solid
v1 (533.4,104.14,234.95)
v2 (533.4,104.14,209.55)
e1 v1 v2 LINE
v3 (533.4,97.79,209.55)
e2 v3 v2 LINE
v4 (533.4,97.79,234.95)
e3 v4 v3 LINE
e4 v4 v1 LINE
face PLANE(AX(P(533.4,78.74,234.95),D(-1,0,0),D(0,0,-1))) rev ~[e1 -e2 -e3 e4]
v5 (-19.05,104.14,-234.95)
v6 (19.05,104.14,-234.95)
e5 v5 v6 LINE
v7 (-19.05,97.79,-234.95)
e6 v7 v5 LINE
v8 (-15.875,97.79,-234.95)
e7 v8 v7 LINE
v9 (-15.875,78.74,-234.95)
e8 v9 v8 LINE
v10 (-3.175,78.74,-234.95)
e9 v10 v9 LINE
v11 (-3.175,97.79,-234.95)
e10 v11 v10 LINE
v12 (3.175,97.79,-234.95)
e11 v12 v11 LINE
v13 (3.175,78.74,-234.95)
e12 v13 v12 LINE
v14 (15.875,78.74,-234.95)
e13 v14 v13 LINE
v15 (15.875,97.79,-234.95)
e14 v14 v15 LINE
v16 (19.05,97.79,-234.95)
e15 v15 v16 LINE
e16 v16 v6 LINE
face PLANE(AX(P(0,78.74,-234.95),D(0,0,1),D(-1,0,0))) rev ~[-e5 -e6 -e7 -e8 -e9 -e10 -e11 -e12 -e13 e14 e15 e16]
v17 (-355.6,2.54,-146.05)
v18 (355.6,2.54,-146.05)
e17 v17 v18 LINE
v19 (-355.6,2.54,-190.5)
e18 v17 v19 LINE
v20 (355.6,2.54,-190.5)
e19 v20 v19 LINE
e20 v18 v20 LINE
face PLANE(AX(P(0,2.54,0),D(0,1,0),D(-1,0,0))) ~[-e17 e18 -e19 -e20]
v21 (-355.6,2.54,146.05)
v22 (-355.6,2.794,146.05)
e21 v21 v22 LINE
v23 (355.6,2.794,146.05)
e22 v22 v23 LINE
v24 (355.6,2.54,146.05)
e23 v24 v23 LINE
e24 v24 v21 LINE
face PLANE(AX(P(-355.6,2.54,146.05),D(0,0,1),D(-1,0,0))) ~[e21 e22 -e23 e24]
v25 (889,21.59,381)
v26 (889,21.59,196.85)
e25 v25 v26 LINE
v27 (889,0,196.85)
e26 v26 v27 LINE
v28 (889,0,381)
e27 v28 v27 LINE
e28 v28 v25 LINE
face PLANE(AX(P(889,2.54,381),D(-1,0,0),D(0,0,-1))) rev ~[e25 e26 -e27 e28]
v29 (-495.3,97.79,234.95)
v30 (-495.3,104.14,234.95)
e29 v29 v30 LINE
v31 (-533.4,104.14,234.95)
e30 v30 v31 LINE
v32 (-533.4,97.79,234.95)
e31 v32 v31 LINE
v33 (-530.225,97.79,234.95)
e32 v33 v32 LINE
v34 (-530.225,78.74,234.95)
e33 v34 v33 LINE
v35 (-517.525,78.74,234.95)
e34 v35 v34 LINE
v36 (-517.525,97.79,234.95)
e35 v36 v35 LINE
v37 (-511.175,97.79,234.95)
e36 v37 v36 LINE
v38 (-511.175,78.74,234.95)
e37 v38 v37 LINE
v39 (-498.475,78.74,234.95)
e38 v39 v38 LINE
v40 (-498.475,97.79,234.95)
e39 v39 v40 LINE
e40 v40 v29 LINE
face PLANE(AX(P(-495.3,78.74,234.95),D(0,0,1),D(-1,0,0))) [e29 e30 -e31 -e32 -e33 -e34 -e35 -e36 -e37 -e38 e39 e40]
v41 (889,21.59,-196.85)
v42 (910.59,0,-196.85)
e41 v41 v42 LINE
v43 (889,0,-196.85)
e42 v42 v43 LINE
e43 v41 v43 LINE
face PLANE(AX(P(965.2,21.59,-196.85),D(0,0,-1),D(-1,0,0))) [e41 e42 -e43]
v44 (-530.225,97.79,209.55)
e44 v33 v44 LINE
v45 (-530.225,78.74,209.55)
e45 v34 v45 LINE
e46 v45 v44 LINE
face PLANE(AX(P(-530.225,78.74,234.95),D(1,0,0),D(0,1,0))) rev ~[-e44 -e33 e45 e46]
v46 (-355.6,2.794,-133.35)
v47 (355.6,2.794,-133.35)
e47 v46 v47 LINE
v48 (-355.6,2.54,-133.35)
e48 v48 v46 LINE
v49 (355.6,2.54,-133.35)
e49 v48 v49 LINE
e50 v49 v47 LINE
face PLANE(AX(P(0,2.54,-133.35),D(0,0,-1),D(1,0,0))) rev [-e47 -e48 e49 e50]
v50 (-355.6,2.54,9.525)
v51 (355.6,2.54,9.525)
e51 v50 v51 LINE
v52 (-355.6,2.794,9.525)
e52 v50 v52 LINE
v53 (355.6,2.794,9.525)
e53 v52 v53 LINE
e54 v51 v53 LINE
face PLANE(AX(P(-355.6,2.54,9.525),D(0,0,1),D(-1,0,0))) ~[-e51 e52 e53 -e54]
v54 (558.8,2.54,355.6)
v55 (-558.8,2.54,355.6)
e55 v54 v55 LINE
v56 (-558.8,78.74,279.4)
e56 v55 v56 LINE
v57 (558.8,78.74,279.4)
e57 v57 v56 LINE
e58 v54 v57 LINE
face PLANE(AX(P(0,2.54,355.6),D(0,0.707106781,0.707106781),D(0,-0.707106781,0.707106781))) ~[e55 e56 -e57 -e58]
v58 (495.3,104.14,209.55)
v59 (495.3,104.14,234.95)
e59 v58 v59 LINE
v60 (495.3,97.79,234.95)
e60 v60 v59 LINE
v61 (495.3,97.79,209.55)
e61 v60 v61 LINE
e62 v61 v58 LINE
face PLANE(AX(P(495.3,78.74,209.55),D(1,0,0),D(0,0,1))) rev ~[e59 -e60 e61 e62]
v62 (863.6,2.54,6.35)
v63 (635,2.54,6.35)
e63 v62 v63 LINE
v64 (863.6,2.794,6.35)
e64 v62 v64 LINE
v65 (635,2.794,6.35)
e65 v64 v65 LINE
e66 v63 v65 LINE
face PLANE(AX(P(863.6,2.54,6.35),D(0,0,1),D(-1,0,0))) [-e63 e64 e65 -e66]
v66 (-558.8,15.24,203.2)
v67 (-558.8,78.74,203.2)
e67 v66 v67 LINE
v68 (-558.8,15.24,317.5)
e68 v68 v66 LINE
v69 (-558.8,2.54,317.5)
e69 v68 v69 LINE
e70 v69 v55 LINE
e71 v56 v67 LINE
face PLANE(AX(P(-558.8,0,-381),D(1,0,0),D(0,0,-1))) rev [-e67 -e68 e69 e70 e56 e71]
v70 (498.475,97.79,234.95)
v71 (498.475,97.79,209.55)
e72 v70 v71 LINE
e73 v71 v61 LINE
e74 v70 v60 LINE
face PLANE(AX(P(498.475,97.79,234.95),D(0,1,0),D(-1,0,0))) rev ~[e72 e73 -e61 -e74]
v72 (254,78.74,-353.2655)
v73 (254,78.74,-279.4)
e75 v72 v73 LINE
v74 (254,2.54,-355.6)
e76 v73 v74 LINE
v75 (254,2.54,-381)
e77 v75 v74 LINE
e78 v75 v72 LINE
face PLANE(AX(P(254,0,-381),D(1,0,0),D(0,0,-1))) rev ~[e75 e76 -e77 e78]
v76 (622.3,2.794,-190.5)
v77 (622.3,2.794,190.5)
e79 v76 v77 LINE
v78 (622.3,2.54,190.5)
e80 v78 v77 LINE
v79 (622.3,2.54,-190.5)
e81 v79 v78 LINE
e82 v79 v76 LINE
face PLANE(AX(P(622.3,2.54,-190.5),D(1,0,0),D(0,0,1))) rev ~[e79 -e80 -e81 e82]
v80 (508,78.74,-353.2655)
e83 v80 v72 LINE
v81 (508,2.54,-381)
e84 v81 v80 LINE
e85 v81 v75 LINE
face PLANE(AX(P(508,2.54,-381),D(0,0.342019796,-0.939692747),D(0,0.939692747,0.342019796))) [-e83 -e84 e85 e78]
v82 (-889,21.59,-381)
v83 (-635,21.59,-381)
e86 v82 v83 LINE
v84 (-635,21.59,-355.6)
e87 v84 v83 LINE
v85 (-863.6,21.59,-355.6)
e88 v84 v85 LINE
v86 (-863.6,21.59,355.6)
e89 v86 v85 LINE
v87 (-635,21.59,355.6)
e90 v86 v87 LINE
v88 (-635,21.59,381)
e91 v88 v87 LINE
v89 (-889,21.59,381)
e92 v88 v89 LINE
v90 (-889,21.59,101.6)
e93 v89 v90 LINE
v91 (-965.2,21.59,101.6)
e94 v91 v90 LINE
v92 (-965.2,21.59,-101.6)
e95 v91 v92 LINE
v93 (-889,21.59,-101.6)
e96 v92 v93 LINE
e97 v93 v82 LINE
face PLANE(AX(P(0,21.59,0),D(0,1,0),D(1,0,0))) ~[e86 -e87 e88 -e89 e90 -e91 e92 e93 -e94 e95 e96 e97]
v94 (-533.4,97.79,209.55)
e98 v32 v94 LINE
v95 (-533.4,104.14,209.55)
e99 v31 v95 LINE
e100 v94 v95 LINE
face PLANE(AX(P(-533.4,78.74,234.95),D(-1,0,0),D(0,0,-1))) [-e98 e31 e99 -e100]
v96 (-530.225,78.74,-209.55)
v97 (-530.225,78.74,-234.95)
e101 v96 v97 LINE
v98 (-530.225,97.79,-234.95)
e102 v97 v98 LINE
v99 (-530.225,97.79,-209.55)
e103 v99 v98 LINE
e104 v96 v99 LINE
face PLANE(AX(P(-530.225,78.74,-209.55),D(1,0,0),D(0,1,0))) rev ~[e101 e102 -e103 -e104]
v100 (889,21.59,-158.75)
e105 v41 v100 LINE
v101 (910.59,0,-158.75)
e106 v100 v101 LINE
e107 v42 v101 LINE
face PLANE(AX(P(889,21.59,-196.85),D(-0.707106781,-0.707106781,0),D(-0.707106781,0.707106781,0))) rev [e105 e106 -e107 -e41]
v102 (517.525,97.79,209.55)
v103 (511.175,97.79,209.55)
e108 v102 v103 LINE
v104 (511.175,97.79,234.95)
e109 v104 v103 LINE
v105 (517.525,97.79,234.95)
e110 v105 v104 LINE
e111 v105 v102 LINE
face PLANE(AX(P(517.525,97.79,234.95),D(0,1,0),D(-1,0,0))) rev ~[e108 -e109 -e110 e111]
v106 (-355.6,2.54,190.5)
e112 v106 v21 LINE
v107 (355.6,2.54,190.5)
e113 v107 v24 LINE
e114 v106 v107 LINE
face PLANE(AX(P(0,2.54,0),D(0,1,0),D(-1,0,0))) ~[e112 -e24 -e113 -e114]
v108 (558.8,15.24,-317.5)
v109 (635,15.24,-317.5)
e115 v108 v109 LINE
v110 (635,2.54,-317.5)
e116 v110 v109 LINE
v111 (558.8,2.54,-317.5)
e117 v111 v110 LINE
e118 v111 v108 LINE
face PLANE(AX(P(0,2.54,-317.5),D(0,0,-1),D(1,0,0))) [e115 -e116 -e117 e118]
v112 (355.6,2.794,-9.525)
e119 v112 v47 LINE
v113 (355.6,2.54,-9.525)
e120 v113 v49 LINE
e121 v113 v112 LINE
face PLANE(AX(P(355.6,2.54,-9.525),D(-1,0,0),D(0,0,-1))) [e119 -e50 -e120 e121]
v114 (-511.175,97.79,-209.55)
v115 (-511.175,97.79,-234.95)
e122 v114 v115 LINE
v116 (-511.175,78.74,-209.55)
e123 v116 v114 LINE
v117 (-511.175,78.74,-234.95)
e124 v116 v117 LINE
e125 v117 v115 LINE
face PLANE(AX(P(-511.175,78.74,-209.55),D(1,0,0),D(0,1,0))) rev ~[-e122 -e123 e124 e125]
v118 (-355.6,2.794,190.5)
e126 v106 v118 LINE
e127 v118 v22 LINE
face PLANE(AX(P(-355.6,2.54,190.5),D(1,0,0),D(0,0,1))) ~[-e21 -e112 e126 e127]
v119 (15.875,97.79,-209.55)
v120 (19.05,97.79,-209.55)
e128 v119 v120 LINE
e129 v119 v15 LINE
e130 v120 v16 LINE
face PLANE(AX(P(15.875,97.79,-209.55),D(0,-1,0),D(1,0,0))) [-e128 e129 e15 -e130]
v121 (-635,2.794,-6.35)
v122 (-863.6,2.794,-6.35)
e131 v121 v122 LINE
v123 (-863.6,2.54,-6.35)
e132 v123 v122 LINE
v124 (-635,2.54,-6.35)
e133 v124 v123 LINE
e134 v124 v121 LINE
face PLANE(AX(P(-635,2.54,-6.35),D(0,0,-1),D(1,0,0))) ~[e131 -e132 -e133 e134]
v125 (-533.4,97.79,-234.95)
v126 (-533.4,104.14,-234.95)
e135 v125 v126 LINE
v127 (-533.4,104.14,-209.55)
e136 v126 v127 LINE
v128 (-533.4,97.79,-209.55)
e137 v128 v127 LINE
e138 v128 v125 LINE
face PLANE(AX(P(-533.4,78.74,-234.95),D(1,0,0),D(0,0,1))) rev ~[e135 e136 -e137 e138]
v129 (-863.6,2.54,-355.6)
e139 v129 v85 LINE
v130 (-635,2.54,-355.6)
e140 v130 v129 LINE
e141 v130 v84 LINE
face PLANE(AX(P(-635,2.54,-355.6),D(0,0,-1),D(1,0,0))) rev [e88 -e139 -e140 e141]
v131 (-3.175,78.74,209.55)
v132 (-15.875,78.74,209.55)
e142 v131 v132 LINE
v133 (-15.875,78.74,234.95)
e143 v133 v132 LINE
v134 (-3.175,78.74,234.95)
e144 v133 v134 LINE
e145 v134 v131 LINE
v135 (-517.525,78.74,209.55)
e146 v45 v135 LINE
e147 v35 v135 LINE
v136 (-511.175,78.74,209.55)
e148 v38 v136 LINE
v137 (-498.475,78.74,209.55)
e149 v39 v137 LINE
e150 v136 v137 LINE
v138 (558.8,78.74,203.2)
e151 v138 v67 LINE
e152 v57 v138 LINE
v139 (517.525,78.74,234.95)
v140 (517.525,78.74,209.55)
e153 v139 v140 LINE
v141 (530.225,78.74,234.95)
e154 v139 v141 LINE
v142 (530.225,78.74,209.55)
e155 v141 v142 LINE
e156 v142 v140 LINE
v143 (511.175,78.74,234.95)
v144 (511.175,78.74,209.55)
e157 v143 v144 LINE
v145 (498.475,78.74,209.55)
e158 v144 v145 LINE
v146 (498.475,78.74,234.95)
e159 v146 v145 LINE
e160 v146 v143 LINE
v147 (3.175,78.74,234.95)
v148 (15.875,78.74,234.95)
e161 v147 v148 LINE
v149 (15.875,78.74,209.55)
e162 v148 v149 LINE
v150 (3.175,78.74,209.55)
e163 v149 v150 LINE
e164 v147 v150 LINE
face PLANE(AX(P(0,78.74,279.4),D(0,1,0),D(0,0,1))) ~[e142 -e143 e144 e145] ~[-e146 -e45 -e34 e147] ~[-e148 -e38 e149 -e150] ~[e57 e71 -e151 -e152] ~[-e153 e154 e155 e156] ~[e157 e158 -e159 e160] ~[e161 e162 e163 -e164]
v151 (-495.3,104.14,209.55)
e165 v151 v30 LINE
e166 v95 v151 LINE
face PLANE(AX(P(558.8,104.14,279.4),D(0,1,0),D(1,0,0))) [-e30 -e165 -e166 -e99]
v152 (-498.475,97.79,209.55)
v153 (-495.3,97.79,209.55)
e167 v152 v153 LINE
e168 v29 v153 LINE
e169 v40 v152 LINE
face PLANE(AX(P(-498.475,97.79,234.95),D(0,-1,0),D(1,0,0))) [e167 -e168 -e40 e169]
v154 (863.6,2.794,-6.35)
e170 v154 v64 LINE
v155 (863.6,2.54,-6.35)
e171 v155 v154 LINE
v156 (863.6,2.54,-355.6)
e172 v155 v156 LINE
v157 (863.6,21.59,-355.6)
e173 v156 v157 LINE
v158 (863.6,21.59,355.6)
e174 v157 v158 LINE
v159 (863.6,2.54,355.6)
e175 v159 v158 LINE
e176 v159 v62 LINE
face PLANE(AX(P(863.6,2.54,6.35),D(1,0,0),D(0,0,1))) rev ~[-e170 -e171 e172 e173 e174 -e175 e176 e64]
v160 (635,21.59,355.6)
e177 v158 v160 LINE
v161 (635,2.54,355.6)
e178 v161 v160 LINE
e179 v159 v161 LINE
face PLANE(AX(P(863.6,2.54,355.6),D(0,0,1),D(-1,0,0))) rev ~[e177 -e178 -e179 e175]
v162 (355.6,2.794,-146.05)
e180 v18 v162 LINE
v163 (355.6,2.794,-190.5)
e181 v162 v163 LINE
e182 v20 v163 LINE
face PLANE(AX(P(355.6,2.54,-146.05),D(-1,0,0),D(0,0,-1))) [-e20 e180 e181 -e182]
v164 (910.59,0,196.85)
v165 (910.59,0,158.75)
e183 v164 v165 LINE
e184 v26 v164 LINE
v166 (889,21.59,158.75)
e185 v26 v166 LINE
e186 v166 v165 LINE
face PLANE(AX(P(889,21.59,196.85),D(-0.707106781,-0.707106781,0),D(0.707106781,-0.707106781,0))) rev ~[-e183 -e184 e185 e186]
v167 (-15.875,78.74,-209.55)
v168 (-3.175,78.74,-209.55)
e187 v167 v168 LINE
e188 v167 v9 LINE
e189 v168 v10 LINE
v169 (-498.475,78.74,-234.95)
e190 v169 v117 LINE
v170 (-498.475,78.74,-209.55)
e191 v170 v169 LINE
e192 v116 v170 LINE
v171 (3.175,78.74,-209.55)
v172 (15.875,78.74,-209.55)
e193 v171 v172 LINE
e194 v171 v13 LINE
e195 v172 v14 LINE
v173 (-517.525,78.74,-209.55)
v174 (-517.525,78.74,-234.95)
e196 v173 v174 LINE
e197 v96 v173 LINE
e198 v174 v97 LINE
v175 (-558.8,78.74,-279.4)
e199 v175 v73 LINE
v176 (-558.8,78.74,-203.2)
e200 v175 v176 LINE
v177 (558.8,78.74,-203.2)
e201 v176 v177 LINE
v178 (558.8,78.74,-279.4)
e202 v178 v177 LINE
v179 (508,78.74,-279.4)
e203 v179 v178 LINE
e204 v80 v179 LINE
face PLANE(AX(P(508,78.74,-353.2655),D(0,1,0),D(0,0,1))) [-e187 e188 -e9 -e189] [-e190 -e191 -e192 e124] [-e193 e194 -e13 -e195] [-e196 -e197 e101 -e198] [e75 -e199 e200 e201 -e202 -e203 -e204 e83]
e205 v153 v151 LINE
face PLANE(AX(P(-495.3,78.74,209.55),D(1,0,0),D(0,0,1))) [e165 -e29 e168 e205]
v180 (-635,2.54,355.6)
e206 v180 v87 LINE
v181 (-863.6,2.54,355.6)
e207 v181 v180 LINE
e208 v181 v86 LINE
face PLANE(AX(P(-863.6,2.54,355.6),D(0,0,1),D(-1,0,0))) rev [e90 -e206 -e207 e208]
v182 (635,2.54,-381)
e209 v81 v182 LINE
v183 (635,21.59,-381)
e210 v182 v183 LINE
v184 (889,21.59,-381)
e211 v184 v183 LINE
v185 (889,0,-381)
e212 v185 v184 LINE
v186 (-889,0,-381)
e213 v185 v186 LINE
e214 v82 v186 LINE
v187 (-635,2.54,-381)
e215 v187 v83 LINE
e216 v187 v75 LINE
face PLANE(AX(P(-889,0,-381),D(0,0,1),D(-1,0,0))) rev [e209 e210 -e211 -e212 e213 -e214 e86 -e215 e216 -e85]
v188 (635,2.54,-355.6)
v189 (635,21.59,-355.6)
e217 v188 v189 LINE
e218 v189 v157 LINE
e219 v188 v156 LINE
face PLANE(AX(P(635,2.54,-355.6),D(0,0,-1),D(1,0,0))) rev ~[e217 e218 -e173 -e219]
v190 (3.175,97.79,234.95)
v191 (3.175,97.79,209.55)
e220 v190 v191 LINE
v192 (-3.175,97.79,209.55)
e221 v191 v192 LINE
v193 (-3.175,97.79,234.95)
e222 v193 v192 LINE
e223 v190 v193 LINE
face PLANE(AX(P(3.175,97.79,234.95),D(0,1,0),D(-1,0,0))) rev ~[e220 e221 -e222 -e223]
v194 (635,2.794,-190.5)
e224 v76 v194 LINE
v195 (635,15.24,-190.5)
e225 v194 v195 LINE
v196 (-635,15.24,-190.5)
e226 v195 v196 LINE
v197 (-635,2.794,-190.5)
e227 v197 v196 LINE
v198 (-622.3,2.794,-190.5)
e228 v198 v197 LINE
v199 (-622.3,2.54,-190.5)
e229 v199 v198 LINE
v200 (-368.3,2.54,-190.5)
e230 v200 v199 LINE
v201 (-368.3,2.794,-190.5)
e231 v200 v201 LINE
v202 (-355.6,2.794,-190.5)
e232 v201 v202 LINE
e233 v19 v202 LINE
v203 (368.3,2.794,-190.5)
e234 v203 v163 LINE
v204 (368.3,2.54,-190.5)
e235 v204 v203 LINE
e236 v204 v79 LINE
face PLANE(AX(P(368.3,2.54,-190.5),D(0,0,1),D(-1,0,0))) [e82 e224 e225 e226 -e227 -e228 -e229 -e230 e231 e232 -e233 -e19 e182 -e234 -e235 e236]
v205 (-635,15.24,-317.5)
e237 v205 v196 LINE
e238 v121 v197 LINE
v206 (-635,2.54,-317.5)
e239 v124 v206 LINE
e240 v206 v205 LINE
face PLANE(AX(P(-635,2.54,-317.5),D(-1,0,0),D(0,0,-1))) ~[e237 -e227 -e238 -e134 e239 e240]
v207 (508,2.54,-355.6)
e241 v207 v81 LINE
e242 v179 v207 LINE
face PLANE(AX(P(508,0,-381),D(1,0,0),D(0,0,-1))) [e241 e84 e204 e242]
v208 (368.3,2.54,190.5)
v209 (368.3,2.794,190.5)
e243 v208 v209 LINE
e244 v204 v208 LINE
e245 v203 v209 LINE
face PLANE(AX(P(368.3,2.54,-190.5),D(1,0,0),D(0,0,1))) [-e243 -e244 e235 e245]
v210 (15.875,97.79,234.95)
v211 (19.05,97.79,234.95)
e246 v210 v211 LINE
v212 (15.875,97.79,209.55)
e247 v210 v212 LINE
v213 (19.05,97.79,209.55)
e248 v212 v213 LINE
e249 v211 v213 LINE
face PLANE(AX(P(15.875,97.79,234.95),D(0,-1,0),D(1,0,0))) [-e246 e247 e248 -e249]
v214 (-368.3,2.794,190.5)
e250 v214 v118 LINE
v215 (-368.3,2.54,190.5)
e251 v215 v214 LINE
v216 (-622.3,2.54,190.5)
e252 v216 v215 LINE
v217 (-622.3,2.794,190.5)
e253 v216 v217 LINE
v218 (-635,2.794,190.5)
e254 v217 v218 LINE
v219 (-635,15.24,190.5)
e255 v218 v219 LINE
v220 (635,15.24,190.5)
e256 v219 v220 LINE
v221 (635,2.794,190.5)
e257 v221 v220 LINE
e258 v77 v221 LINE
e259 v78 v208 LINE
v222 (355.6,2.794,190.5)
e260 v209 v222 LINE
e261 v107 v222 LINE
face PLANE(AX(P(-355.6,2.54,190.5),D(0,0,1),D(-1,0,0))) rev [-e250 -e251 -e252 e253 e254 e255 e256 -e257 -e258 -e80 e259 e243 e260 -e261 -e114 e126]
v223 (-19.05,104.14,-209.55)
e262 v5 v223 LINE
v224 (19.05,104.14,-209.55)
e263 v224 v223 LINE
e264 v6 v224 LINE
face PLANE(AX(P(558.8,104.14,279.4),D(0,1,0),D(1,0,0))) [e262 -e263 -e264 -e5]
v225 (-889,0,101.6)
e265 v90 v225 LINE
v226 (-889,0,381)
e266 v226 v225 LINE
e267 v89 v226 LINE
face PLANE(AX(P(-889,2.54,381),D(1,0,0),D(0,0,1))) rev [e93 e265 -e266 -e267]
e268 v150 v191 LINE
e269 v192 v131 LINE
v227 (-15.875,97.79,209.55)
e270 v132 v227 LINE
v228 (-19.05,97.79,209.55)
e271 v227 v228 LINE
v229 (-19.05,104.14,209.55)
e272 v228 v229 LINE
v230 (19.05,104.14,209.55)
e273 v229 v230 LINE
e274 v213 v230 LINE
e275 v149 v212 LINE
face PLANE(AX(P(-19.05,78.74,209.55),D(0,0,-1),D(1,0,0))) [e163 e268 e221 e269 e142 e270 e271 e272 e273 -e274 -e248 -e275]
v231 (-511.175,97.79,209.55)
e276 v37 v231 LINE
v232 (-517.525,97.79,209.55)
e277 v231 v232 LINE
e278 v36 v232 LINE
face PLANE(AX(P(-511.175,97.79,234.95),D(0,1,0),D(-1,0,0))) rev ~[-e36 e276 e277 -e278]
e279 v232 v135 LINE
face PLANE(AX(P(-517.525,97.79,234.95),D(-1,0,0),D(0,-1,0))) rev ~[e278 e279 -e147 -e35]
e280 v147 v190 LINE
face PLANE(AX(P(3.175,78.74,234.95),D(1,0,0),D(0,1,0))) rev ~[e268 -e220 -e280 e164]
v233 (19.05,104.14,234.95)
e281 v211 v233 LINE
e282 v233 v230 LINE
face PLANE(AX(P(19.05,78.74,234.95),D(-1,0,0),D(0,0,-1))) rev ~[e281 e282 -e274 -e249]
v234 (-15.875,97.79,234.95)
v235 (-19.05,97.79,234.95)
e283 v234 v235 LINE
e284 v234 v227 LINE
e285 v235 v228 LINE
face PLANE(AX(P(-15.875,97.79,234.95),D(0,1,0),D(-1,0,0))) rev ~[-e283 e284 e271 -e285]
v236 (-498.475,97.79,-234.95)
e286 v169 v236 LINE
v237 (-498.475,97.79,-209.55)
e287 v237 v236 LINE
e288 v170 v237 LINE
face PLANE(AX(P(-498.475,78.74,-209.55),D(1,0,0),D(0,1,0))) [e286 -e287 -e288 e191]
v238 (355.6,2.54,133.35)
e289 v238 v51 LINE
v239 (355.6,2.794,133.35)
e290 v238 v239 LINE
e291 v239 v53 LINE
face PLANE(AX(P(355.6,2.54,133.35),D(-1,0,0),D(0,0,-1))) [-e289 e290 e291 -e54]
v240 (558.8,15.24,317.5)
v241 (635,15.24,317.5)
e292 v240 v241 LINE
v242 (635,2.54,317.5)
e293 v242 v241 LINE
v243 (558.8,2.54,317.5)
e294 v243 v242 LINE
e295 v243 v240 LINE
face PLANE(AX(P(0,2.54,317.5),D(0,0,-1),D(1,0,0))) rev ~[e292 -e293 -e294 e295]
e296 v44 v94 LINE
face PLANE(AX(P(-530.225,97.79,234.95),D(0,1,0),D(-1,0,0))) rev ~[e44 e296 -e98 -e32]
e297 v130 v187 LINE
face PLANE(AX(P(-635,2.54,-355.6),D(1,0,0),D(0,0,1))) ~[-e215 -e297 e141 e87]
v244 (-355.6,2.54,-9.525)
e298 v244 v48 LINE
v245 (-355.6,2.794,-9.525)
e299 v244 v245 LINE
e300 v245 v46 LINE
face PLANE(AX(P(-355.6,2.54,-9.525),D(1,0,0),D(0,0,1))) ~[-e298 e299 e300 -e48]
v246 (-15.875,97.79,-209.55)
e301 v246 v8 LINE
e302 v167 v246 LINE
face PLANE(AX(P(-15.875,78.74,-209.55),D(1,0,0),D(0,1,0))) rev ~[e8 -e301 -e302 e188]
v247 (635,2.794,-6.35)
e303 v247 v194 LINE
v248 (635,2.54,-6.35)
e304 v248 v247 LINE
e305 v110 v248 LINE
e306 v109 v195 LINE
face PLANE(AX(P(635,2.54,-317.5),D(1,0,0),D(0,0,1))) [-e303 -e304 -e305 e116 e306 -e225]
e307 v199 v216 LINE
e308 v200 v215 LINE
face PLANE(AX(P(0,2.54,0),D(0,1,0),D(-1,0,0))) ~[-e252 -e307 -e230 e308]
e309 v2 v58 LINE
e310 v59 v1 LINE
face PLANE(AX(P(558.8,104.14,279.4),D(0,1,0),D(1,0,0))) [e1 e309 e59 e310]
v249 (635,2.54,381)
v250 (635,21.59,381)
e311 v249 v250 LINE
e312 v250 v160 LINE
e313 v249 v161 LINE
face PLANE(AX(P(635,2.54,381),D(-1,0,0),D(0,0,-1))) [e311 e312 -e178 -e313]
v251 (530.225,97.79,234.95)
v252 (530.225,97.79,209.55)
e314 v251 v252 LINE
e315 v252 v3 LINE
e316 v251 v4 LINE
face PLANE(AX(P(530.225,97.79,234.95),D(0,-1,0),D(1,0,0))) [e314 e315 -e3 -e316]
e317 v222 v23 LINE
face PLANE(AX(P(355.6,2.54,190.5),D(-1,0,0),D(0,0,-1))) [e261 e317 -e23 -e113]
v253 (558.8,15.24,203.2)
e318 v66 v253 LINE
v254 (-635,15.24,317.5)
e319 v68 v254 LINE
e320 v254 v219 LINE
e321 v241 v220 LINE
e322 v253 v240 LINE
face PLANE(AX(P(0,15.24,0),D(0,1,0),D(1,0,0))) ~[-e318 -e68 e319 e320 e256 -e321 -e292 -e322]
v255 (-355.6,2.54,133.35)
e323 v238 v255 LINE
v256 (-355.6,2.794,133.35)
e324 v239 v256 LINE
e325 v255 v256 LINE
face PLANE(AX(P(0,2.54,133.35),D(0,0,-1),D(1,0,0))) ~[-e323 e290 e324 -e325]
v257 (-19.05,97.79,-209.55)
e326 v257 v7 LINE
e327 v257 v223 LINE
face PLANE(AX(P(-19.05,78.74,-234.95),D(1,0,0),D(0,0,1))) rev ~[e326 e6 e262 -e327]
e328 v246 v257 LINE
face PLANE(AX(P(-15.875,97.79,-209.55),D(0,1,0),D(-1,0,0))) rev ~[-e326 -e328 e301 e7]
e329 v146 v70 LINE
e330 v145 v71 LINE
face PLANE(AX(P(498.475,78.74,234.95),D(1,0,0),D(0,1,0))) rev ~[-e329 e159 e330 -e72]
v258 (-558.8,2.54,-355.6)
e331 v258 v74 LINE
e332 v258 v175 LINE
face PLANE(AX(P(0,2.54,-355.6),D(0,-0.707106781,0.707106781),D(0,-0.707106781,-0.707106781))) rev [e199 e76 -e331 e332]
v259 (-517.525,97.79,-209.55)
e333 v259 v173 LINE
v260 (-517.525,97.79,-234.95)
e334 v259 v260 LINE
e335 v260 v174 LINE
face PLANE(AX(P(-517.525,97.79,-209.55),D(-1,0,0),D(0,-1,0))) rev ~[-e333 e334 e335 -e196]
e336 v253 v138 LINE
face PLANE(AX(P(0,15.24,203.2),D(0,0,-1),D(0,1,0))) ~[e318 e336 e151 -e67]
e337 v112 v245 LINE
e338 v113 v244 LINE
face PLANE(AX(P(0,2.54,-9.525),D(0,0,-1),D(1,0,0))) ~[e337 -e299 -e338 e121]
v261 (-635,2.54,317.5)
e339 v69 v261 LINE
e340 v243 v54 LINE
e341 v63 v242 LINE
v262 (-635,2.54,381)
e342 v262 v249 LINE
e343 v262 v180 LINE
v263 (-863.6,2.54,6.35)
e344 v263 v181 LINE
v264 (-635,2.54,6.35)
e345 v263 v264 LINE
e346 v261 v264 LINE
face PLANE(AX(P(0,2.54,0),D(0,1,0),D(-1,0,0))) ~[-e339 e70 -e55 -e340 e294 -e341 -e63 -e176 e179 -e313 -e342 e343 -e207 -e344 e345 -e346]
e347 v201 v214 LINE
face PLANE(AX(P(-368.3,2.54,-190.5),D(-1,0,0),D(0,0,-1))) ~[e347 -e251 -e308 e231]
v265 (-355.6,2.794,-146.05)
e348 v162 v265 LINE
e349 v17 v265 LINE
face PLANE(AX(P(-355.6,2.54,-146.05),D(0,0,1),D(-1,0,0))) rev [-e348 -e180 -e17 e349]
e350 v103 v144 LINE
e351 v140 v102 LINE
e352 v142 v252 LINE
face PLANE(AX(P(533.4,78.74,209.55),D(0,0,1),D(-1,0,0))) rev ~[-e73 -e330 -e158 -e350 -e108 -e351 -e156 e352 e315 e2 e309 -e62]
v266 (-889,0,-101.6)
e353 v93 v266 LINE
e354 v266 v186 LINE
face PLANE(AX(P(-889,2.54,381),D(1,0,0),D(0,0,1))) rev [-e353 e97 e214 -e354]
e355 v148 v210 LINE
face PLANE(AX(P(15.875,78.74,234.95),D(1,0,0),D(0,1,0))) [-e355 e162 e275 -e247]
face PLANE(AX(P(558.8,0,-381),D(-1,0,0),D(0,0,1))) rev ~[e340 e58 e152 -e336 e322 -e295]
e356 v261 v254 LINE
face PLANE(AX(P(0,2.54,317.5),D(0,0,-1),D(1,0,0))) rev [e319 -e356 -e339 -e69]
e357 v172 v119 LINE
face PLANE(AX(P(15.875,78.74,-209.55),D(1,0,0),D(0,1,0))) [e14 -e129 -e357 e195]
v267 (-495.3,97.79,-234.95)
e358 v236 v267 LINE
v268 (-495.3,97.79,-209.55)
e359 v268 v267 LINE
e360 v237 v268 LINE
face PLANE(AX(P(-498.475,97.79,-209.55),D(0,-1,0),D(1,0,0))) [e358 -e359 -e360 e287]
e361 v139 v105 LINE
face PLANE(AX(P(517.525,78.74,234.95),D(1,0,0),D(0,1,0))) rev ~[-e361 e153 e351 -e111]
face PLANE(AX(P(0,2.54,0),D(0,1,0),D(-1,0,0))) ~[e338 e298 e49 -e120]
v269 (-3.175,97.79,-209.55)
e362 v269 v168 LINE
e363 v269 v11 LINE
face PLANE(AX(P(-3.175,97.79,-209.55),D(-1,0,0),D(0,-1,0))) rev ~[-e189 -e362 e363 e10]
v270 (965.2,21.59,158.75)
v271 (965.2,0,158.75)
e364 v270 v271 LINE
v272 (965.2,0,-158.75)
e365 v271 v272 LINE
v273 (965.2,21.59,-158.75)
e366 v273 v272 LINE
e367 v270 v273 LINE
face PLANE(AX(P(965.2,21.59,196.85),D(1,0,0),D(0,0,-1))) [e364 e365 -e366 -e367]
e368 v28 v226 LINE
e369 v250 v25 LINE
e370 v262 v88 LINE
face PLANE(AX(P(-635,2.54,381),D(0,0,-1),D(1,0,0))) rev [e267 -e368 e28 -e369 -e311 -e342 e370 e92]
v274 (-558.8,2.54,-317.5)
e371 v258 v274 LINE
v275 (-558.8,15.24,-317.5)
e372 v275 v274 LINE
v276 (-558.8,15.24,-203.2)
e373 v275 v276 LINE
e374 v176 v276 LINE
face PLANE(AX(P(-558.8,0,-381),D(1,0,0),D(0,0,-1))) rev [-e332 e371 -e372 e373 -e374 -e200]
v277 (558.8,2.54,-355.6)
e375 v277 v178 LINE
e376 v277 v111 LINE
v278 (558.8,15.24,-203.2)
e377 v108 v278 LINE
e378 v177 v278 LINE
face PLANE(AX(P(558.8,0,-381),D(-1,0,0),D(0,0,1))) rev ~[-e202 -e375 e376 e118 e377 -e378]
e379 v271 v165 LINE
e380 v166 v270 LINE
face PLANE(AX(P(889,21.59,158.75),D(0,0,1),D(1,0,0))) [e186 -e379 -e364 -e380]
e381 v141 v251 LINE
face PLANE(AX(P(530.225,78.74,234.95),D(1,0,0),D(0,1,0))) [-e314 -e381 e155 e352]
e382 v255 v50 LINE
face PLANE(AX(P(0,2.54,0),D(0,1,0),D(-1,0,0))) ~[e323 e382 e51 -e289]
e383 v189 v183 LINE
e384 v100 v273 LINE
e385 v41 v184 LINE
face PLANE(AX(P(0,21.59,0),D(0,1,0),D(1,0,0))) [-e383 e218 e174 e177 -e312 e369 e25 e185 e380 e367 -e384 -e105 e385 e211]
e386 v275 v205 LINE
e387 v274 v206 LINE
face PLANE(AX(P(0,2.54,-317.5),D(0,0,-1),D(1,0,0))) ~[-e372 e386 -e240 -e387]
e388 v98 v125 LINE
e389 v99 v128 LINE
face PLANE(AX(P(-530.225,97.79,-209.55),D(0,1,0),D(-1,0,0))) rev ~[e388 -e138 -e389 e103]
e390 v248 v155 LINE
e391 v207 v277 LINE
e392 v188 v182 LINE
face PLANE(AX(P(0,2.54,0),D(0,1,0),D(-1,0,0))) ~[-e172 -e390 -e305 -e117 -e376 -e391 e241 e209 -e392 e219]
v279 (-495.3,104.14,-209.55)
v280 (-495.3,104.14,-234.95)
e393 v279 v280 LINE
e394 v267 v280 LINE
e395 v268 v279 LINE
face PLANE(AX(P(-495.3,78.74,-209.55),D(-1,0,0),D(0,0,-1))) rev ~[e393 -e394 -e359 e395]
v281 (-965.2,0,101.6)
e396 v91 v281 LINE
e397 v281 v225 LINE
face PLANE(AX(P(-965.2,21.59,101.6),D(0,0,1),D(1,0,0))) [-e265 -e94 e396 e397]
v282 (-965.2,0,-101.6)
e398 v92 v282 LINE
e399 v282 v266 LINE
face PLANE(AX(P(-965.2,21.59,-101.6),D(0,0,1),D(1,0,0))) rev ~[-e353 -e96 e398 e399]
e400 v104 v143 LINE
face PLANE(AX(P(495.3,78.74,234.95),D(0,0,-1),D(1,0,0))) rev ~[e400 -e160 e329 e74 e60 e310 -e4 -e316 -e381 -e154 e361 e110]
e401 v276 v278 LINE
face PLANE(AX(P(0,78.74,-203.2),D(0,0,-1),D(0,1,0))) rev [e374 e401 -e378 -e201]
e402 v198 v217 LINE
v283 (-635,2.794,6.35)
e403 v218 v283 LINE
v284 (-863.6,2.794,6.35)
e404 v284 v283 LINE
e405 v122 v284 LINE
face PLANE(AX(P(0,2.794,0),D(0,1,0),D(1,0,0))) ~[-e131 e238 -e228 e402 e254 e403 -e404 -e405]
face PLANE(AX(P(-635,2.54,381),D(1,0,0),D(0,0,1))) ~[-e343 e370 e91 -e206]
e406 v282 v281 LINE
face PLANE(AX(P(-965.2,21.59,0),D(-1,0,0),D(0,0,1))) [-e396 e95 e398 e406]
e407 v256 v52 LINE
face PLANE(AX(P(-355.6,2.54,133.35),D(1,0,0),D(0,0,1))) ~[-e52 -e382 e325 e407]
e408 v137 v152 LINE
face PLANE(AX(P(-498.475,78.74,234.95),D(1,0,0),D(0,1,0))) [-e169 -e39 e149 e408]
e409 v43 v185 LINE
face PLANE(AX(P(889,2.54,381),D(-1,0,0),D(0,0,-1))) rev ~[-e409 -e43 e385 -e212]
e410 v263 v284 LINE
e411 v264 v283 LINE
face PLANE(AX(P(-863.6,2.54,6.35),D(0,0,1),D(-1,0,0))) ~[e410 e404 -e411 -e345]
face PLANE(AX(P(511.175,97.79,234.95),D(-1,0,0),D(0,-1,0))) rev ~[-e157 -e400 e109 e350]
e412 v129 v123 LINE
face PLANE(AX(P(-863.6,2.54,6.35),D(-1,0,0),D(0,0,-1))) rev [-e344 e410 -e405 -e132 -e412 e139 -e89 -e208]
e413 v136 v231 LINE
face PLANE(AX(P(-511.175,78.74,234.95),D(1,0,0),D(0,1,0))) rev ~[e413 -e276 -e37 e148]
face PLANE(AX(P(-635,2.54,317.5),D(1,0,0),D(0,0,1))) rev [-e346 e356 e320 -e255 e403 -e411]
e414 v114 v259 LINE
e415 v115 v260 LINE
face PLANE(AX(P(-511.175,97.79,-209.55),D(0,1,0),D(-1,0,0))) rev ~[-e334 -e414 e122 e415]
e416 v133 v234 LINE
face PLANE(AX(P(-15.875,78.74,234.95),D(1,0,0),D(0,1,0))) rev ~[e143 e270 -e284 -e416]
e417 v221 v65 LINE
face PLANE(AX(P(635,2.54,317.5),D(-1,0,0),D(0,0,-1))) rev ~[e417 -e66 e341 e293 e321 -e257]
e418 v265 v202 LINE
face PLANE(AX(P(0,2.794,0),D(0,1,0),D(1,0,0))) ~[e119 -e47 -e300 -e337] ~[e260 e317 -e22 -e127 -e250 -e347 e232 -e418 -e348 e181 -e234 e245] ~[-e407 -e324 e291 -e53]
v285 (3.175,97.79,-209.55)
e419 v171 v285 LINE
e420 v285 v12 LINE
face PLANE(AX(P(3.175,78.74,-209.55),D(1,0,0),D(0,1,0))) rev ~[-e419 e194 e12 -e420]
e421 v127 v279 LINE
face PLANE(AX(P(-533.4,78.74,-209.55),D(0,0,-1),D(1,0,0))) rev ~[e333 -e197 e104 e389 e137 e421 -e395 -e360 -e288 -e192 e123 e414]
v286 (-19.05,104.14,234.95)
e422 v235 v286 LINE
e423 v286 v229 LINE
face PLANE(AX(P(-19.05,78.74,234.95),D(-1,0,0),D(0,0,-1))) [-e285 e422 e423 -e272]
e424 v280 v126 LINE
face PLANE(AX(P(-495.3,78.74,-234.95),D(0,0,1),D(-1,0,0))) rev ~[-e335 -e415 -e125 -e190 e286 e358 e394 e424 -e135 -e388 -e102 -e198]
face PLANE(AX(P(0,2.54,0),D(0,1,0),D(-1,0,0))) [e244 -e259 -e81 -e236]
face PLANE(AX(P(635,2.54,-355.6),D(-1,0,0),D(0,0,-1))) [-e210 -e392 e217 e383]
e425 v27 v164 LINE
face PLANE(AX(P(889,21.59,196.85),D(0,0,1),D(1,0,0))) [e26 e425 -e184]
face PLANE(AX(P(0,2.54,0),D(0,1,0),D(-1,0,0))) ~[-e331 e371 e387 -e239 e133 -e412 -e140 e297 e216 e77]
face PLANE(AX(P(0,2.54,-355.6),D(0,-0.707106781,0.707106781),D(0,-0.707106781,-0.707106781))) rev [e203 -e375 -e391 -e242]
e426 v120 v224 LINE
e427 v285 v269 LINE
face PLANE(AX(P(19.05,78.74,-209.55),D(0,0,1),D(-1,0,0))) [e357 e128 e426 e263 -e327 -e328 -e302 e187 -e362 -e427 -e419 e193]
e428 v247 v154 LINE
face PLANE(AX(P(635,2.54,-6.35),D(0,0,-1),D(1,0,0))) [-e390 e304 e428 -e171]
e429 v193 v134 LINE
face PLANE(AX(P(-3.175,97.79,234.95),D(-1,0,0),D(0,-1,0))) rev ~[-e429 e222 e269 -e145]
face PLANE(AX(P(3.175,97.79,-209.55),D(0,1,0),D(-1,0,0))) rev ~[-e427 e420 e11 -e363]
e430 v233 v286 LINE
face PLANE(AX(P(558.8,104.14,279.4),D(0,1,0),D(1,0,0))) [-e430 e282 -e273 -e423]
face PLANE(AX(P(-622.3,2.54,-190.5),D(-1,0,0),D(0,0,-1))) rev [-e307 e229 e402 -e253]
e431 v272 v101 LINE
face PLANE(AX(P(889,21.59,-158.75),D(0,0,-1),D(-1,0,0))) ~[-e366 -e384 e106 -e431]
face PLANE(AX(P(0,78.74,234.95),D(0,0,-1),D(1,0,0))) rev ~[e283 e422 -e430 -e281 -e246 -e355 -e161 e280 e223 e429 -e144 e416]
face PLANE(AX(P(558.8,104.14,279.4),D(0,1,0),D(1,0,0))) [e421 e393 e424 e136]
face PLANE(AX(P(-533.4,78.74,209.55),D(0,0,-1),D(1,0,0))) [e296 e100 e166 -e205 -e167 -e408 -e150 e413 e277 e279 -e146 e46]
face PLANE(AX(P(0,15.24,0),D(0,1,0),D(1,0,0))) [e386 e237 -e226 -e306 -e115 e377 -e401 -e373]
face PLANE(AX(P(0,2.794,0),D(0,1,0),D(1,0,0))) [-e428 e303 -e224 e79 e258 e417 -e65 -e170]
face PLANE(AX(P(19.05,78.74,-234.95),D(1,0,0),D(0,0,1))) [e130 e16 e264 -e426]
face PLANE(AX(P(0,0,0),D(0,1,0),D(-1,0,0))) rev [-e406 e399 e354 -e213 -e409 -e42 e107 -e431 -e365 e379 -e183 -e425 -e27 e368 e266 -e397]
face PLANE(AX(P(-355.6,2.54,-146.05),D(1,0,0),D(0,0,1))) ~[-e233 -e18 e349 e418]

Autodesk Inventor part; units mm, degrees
ref_plane "YZ Plane" through (0, 0, 0) normal (1, 0, 0) x (0, 1, 0)
sketch "Sketch1" plane through (0, 0, 0) normal (0, 1, 0) x (-1, 0, 0)
  line L0 (0, 381) -> (-889, 381)
  line L1 (-889, 381) -> (-889, -381)
  line L2 (-889, -381) -> (0, -381)
  line L3 (0, 381) -> (0, -381)
  point P0 (0, 0)
  dimension "d1" = 762
  dimension "d35" = 889
extrude "Extrusion1" add sketch "Sketch1" along normal blind 2.54
sketch "Sketch2" plane through (0, 2.54, 0) normal (0, 1, 0) x (1, 0, 0)
  line L0 (0, -381) -> (889, -381) projected
  line L1 (889, -381) -> (889, 381) projected
  line L2 (889, 381) -> (0, 381) projected
  line L3 (863.6, -355.6) -> (635, -355.6)
  line L4 (635, 355.6) -> (863.6, 355.6)
  line L5 (863.6, 355.6) -> (863.6, -355.6)
  line L6 (635, -381) -> (635, -355.6)
  line L7 (635, 355.6) -> (635, 381)
  line L8 (0, 381) -> (0, -381) projected
  line L9 (635, -355.6) -> (635, 355.6) construction
  line L10 (622.3, 190.5) -> (622.3, -190.5)
  line L11 (863.6, 6.35) -> (863.6, -6.35)
  line L12 (863.6, -6.35) -> (635, -6.35)
  line L13 (635, -190.5) -> (635, -6.35)
  line L14 (635, 6.35) -> (635, 190.5)
  line L15 (635, 6.35) -> (863.6, 6.35)
  line L16 (0, -190.5) -> (0, -317.5)
  line L17 (0, -317.5) -> (635, -317.5)
  line L18 (635, -317.5) -> (635, -190.5)
  line L19 (622.3, -190.5) -> (0, -190.5)
  line L20 (0, 0) -> (889, 0) construction
  line L21 (0, 190.5) -> (0, 317.5)
  line L22 (0, 317.5) -> (635, 317.5)
  line L23 (635, 317.5) -> (635, 190.5)
  line L24 (622.3, 190.5) -> (0, 190.5)
  line L25 (368.3, 190.5) -> (368.3, -190.5)
  line L26 (622.3, -190.5) -> (635, -190.5)
  line L27 (622.3, 190.5) -> (635, 190.5)
  line L28 (0, 0) -> (1199.5673, 0) construction
  line L29 (355.6, -9.525) -> (0, -9.525)
  line L30 (0, -9.525) -> (0, 9.525)
  line L31 (0, 9.525) -> (355.6, 9.525)
  line L32 (0, 133.35) -> (355.6, 133.35)
  line L33 (0, 146.05) -> (0, 133.35)
  line L34 (355.6, 146.05) -> (0, 146.05)
  line L35 (355.6, 9.525) -> (355.6, 133.35)
  line L36 (355.6, 146.05) -> (355.6, 190.5)
  line L37 (0, -133.35) -> (355.6, -133.35)
  line L38 (0, -146.05) -> (0, -133.35)
  line L39 (355.6, -146.05) -> (0, -146.05)
  line L40 (355.6, -190.5) -> (355.6, -146.05)
  line L41 (355.6, -133.35) -> (355.6, -9.525)
  line L42 (635, -381) -> (889, -381)
  line L43 (889, -381) -> (889, 381)
  line L44 (889, 381) -> (635, 381)
  line L45 (889, 381) -> (0, 381) projected
  point P0 (745.8337, 0)
  point P1 (599.7837, 0)
  point P2 (345.7837, 88.9)
  dimension "d4" = 25.4
  dimension "d5" = 254
  dimension "d8" = 12.7
  dimension "d11" = 127
  dimension "d16" = 19.05
  dimension "d19" = 63.5
  dimension "d21" = 44.45
  dimension "d22" = 12.7
  dimension "d23" = 374.65
  dimension "d36" = 25.4
  dimension "d37" = 0
  dimension "d38" = 0
  dimension "d39" = 0
  dimension "d40" = 0
  dimension "d41" = 254
  dimension "d42" = 12.7
  dimension "d43" = 12.7
  dimension "d44" = 0
  dimension "d45" = 12.7
  dimension "d46" = 0
  dimension "d47" = 12.7
extrude "Extrusion2" add sketch "Sketch2" along normal blind 12.7 contours L8 L19 L26 L18 L17 | L24 L8 L22 L23 L27
extrude "Extrusion3" add sketch "Sketch2" along normal blind 19.05 contours L6 L3 L5 L4 L7 L2 L1 L0
extrude "Extrusion4" add sketch "Sketch2" along normal blind 0.254 contours L8 L37 L41 L29 L31 L35 L32 L34 L36 L24 L25 L19 L40 L39 | L26 L10 L27 L14 L15 L5 L12 L13
sketch "Sketch3" plane through (0, 0, -381) normal (-1, 0, 0) x (0, 0, 1)
  line L0 (762, 0) -> (0, 0) projected
  line L1 (762, 0) -> (762, 2.54) projected
  line L2 (698.5, 2.54) -> (762, 2.54) projected
  line L3 (698.5, 2.54) -> (698.5, 15.24) projected
  line L4 (571.5, 15.24) -> (698.5, 15.24) projected
  line L5 (571.5, 2.54) -> (571.5, 15.24) projected
  line L6 (527.05, 2.54) -> (571.5, 2.54) projected
  line L7 (527.05, 2.54) -> (527.05, 2.794) projected
  line L8 (514.35, 2.794) -> (527.05, 2.794) projected
  line L9 (514.35, 2.54) -> (514.35, 2.794) projected
  line L10 (390.525, 2.54) -> (514.35, 2.54) projected
  line L11 (390.525, 2.54) -> (390.525, 2.794) projected
  line L12 (371.475, 2.794) -> (390.525, 2.794) projected
  line L13 (371.475, 2.54) -> (371.475, 2.794) projected
  line L14 (247.65, 2.54) -> (371.475, 2.54) projected
  line L15 (247.65, 2.54) -> (247.65, 2.794) projected
  line L16 (234.95, 2.794) -> (247.65, 2.794) projected
  line L17 (234.95, 2.54) -> (234.95, 2.794) projected
  line L18 (190.5, 2.54) -> (234.95, 2.54) projected
  line L19 (190.5, 2.54) -> (190.5, 15.24) projected
  line L20 (63.5, 15.24) -> (190.5, 15.24) projected
  line L21 (63.5, 2.54) -> (63.5, 15.24) projected
  line L22 (0, 2.54) -> (63.5, 2.54) projected
  line L23 (0, 0) -> (0, 2.54) projected
  line L24 (736.6, 2.54) -> (584.2, 2.54)
  line L25 (387.35, 2.54) -> (698.5, 2.54) projected
  line L26 (736.6, 2.54) -> (889, 2.54) construction
  line L27 (736.6, 2.54) -> (660.4, 78.74)
  line L28 (736.6, 2.54) -> (844.3631, 2.54) construction
  line L29 (660.4, 78.74) -> (584.2, 78.74)
  line L30 (762, 0) -> (0, 0) projected
  line L31 (584.2, 78.74) -> (584.2, 2.54)
  line L32 (381, 2.54) -> (381, -13.3549) construction
  line L33 (25.4, 2.54) -> (177.8, 2.54)
  line L34 (374.65, 2.54) -> (63.5, 2.54)
  line L35 (25.4, 2.54) -> (101.6, 78.74)
  line L36 (101.6, 78.74) -> (177.8, 78.74)
  line L37 (177.8, 78.74) -> (177.8, 2.54)
  point P0 (381, 0)
  dimension "d30" = 152.4
  dimension "d31" = 180
  dimension "d32" = 135
extrude "Extrusion5" add sketch "Sketch3" against normal blind 558.8 contours L2 L3 L4 L31 L29 L27 | L35 L36 L37 L20 L21 L22 | L24 L31 L4 L3 | L21 L20 L37 L33
mirror "Mirror1" about plane through (0, 0, 0) normal (1, 0, 0) of "Extrusion1", "Extrusion2", "Extrusion3", "Extrusion4", "Extrusion5"
sketch "Sketch4" plane through (558.8, 78.74, 279.4) normal (0, 1, 0) x (1, 0, 0)
  line L0 (-203.2, 133.35) -> (-914.4, 133.35) construction
  line L1 (-203.2, 133.35) -> (-203.2, 88.9) construction
  line L2 (-190.5, 88.9) -> (-203.2, 88.9) construction
  line L3 (-190.5, 88.9) -> (-190.5, 469.9) construction
  line L4 (-203.2, 469.9) -> (-190.5, 469.9) construction
  line L5 (-203.2, 469.9) -> (-203.2, 425.45) construction
  line L6 (-203.2, 425.45) -> (-914.4, 425.45) construction
  line L7 (-914.4, 469.9) -> (-914.4, 425.45) construction
  line L8 (-914.4, 469.9) -> (-927.1, 469.9) construction
  line L9 (-927.1, 88.9) -> (-927.1, 469.9) construction
  line L10 (-927.1, 88.9) -> (-914.4, 88.9) construction
  line L11 (-914.4, 133.35) -> (-914.4, 88.9) construction
  line L12 (-203.2, 146.05) -> (-914.4, 146.05) construction
  line L13 (-914.4, 269.875) -> (-914.4, 146.05) construction
  line L14 (-203.2, 269.875) -> (-914.4, 269.875) construction
  line L15 (-203.2, 269.875) -> (-203.2, 146.05) construction
  line L16 (-203.2, 288.925) -> (-914.4, 288.925) construction
  line L17 (-914.4, 412.75) -> (-914.4, 288.925) construction
  line L18 (-203.2, 412.75) -> (-914.4, 412.75) construction
  line L19 (-203.2, 412.75) -> (-203.2, 288.925) construction
  line L20 (-25.4, 69.85) -> (-63.5, 69.85)
  line L21 (-63.5, 69.85) -> (-63.5, 44.45)
  line L22 (-63.5, 44.45) -> (-25.4, 44.45)
  line L23 (-25.4, 44.45) -> (-25.4, 69.85)
  line L24 (0, 76.2) -> (-1117.6, 76.2) construction
  line L25 (0, 76.2) -> (0, -38.1) construction
  line L26 (-539.75, 69.85) -> (-558.8, 69.85)
  line L27 (-558.8, 44.45) -> (-539.75, 44.45)
  line L28 (-539.75, 44.45) -> (-539.75, 69.85)
  line L29 (-1092.2, 69.85) -> (-1054.1, 69.85)
  line L30 (-1054.1, 69.85) -> (-1054.1, 44.45)
  line L31 (-1054.1, 44.45) -> (-1092.2, 44.45)
  line L32 (-1092.2, 44.45) -> (-1092.2, 69.85)
  line L33 (-577.85, 69.85) -> (-558.8, 69.85)
  line L34 (-558.8, 44.45) -> (-577.85, 44.45)
  line L35 (-577.85, 44.45) -> (-577.85, 69.85)
  line L36 (-558.8, 279.4) -> (-687.566, 279.4) construction
  line L37 (-558.8, 279.4) -> (-430.034, 279.4) construction
  line L38 (-539.75, 488.95) -> (-558.8, 488.95)
  line L39 (-558.8, 514.35) -> (-539.75, 514.35)
  line L40 (-539.75, 514.35) -> (-539.75, 488.95)
  line L41 (-577.85, 488.95) -> (-558.8, 488.95)
  line L42 (-577.85, 514.35) -> (-577.85, 488.95)
  line L43 (-558.8, 514.35) -> (-577.85, 514.35)
  line L44 (-1092.2, 488.95) -> (-1054.1, 488.95)
  line L45 (-1054.1, 488.95) -> (-1054.1, 514.35)
  line L46 (-1054.1, 514.35) -> (-1092.2, 514.35)
  line L47 (-1092.2, 514.35) -> (-1092.2, 488.95)
  dimension "d48" = 38.1
  dimension "d49" = 25.4
  dimension "d50" = 6.35
  dimension "d51" = 25.4
  dimension "d52" = 19.05
  dimension "d53" = 25.4
  dimension "d55" = 180
extrude "Extrusion6" add sketch "Sketch4" along normal blind 25.4
sketch "Sketch5" plane through (495.3, 78.74, 234.95) normal (0, 0, 1) x (1, 0, 0)
  line L0 (63.5, 0) -> (-1054.1, 0) projected
  line L1 (15.875, 0) -> (22.225, 0)
  line L2 (22.225, 0) -> (22.225, 19.05)
  line L3 (22.225, 19.05) -> (15.875, 19.05)
  line L4 (15.875, 19.05) -> (15.875, 0)
  line L5 (0, 0) -> (0, 25.4) projected
  line L6 (0, 0) -> (3.175, 0)
  line L7 (3.175, 0) -> (3.175, 19.05)
  line L8 (3.175, 19.05) -> (0, 19.05)
  line L9 (0, 19.05) -> (0, 0)
  line L10 (38.1, 0) -> (34.925, 0)
  line L11 (34.925, 0) -> (34.925, 19.05)
  line L12 (34.925, 19.05) -> (38.1, 19.05)
  line L13 (38.1, 19.05) -> (38.1, 0)
  point P0 (-495.3, -78.74)
  dimension "d58" = 6.35
  dimension "d59" = 19.05
  dimension "d60" = 15.875
  dimension "d61" = 3.175
  dimension "d62" = 3.175
extrude "Extrusion7" cut sketch "Sketch5" against normal blind 25.4
pattern_linear "Rectangular Pattern1" count 3 spacing 514.35 along (-1, 0, 0) count 2 spacing 444.5 along (0, 0, -1) of "Extrusion7"
sketch "Sketch6" plane through (0, 21.59, 0) normal (0, 1, 0) x (1, 0, 0)
  line L0 (889, -381) -> (889, 381) projected
  line L1 (889, 381) -> (635, 381) projected
  line L2 (635, 381) -> (635, 355.6) projected
  line L3 (635, 355.6) -> (863.6, 355.6) projected
  line L4 (863.6, 355.6) -> (863.6, -355.6) projected
  line L5 (863.6, -355.6) -> (635, -355.6) projected
  line L6 (635, -355.6) -> (635, -381) projected
  line L7 (635, -381) -> (889, -381) projected
  line L8 (-558.8, -203.2) -> (558.8, -203.2) projected
  line L9 (558.8, -203.2) -> (558.8, -317.5) projected
  line L10 (558.8, -317.5) -> (635, -317.5) projected
  line L11 (635, -317.5) -> (635, -190.5) projected
  line L12 (635, -190.5) -> (-635, -190.5) projected
  line L13 (-635, -317.5) -> (-635, -190.5) projected
  line L14 (-558.8, -317.5) -> (-635, -317.5) projected
  line L15 (-558.8, -203.2) -> (-558.8, -317.5) projected
  line L16 (558.8, 317.5) -> (558.8, 203.2) projected
  line L17 (-558.8, 203.2) -> (558.8, 203.2) projected
  line L18 (-558.8, 317.5) -> (-558.8, 203.2) projected
  line L19 (-635, 317.5) -> (-558.8, 317.5) projected
  line L20 (-635, 190.5) -> (-635, 317.5) projected
  line L21 (635, 190.5) -> (-635, 190.5) projected
  line L22 (635, 190.5) -> (635, 317.5) projected
  line L23 (635, 317.5) -> (558.8, 317.5) projected
  line L24 (889, -381) -> (889, 381) projected
  line L25 (889, -196.85) -> (965.2, -196.85)
  line L26 (965.2, -196.85) -> (965.2, 196.85)
  line L27 (965.2, 196.85) -> (889, 196.85)
  line L28 (889, 196.85) -> (889, -196.85)
  line L29 (-889, 381) -> (-889, -381) projected
  line L30 (-889, 0) -> (-965.2, 0) construction
  line L31 (-965.2, 0) -> (-965.2, 101.6)
  line L32 (-965.2, 101.6) -> (-889, 101.6)
  line L33 (-889, 101.6) -> (-889, 0)
  line L34 (-965.2, 0) -> (-965.2, -101.6)
  line L35 (-965.2, -101.6) -> (-889, -101.6)
  line L36 (-889, -101.6) -> (-889, 0)
  point P0 (0, 0)
  dimension "d71" = 76.2
  dimension "d72" = 393.7
  dimension "d73" = 76.2
  dimension "d74" = 101.6
  dimension "d80" = 184.15
extrude "Extrusion8" add sketch "Sketch6" against normal up to surface (21.59 mm away) from surface at 0 contours L0 L27 L26 L25 | L29 L35 L34 L31 L32
sketch "Sketch7" plane through (889, 21.59, 196.85) normal (0, 0, 1) x (1, 0, 0)
  line L0 (0, 0) -> (21.59, -21.59)
  line L1 (0, 0) -> (30.5329, 0) construction
  line L2 (0, 0) -> (76.2, 0)
  line L3 (76.2, 0) -> (0, 0) projected
  line L4 (76.2, 0) -> (76.2, -21.59)
  line L5 (76.2, -21.59) -> (21.59, -21.59)
  point P0 (-889, -21.59)
  dimension "d77" = 45
extrude "Extrusion9" cut sketch "Sketch7" against normal blind 38.1
ref_plane "Work Plane1" through (889, 0, 0) normal (0, 0, 1) x (1, 0, 0)
mirror "Mirror2" about plane through (889, 0, 0) normal (0, 0, 1) of "Extrusion9"
ref_plane "Work Plane2" through (508, 0, -381) normal (1, 0, 0) x (0, 0, -1)
sketch "Sketch8" plane through (508, 0, -381) normal (1, 0, 0) x (0, 0, -1)
  line L0 (-25.4, 2.54) -> (-63.5, 2.54) projected
  line L1 (-63.5, 2.54) -> (-374.65, 2.54) projected
  line L2 (-374.65, 2.54) -> (-25.4, 2.54) projected
  line L3 (-25.4, 2.54) -> (0, 2.54) projected
  line L4 (-25.4, 2.54) -> (0, 2.54) projected
  line L5 (-374.65, 2.54) -> (-25.4, 2.54) projected
  line L6 (-63.5, 2.54) -> (-374.65, 2.54) projected
  line L7 (-25.4, 2.54) -> (-63.5, 2.54) projected
  line L8 (-63.5, 2.54) -> (-63.5, 15.24) projected
  line L9 (-25.4, 2.54) -> (-63.5, 2.54) projected
  line L10 (-25.4, 2.54) -> (-101.6, 78.74) projected
  line L11 (-101.6, 78.74) -> (-177.8, 78.74) projected
  line L12 (-177.8, 78.74) -> (-177.8, 15.24) projected
  line L13 (-63.5, 15.24) -> (-177.8, 15.24) projected
  line L14 (0, 2.54) -> (-27.7345, 78.74)
  line L15 (0, 2.54) -> (81.0903, 2.54) construction
  line L16 (-27.7345, 78.74) -> (-101.6, 78.74)
  line L17 (-101.6, 78.74) -> (-101.6, 2.54)
  line L18 (0, 2.54) -> (-101.6, 2.54)
  point P0 (-381, 0)
  dimension "d82" = 110
extrude "Extrusion10" add sketch "Sketch8" against normal blind 254 contours L10 L16 L14 L3 | L0 L8 L13 L17 L10 | L1 L17 L13 L8
sketch "Sketch9" plane through (0, 21.59, 0) normal (0, 1, 0) x (1, 0, 0)
  line L0 (889, -152.4) -> (958.85, -152.4) construction
  line L1 (958.85, -152.4) -> (958.85, 152.4) construction
  line L2 (958.85, 152.4) -> (889, 152.4) construction
  line L3 (889, 152.4) -> (889, -152.4) construction
  line L4 (-958.85, -95.25) -> (-889, -95.25) construction
  line L5 (-889, -95.25) -> (-889, 95.25) construction
  line L6 (-889, 95.25) -> (-958.85, 95.25) construction
  line L7 (-958.85, 95.25) -> (-958.85, -95.25) construction
  point P0 (0, 0)
  dimension "d88" = 304.8
  dimension "d89" = 69.85
  dimension "d94" = 190.5
  dimension "d95" = 69.85
sketch "Sketch10" plane through (558.8, 78.74, -203.2) normal (0, 1, 0) x (1, 0, 0)
  line L0 (-298.45, 143.7155) -> (-57.15, 143.7155) construction
  line L1 (-57.15, 143.7155) -> (-57.15, 19.05) construction
  line L2 (-57.15, 19.05) -> (-298.45, 19.05) construction
  line L3 (-298.45, 19.05) -> (-298.45, 143.7155) construction
  point P0 (-558.8, -203.2)
  dimension "d100" = 124.6655
  dimension "d101" = 241.3
sketch "Sketch11" plane through (558.8, 15.24, -203.2) normal (0, 0, 1) x (1, 0, 0)
  line L0 (-561.975, 57.15) -> (-555.625, 57.15) construction
  line L1 (-555.625, 57.15) -> (-555.625, 44.45) construction
  line L2 (-555.625, 44.45) -> (-561.975, 44.45) construction
  line L3 (-561.975, 44.45) -> (-561.975, 57.15) construction
  line L4 (-1117.6, 63.5) -> (0, 63.5) projected
  line L5 (-1117.6, 63.5) -> (-1117.6, 0) projected
  point P0 (-558.8, -15.24)
  dimension "d102" = 6.35
  dimension "d103" = 12.7
  dimension "d108" = 6.35
  dimension "d109" = 555.625
sketch "Sketch12" plane through (558.8, 15.24, 203.2) normal (0, 0, -1) x (-1, 0, 0)
  line L0 (561.975, 44.45) -> (561.975, 57.15) construction
  line L1 (561.975, 57.15) -> (555.625, 57.15) construction
  line L2 (555.625, 57.15) -> (555.625, 44.45) construction
  line L3 (555.625, 44.45) -> (561.975, 44.45) construction
  point P0 (558.8, -15.24)
sketch "Sketch13" plane through (0, 2.794, 0) normal (0, 1, 0) x (1, 0, 0)
  line L0 (622.3, -190.5) -> (622.3, 190.5) construction
  line L1 (635, -6.35) -> (652.9605, -6.35) construction
  circle A0 centre (628.65, 0) radius 6.35 construction
  circle A1 centre (-628.65, 0) radius 6.35 construction
  point P0 (0, 0)
  dimension "d106" = 12.7
  dimension "d107" = 12.7
properties part number "Ball Field"
